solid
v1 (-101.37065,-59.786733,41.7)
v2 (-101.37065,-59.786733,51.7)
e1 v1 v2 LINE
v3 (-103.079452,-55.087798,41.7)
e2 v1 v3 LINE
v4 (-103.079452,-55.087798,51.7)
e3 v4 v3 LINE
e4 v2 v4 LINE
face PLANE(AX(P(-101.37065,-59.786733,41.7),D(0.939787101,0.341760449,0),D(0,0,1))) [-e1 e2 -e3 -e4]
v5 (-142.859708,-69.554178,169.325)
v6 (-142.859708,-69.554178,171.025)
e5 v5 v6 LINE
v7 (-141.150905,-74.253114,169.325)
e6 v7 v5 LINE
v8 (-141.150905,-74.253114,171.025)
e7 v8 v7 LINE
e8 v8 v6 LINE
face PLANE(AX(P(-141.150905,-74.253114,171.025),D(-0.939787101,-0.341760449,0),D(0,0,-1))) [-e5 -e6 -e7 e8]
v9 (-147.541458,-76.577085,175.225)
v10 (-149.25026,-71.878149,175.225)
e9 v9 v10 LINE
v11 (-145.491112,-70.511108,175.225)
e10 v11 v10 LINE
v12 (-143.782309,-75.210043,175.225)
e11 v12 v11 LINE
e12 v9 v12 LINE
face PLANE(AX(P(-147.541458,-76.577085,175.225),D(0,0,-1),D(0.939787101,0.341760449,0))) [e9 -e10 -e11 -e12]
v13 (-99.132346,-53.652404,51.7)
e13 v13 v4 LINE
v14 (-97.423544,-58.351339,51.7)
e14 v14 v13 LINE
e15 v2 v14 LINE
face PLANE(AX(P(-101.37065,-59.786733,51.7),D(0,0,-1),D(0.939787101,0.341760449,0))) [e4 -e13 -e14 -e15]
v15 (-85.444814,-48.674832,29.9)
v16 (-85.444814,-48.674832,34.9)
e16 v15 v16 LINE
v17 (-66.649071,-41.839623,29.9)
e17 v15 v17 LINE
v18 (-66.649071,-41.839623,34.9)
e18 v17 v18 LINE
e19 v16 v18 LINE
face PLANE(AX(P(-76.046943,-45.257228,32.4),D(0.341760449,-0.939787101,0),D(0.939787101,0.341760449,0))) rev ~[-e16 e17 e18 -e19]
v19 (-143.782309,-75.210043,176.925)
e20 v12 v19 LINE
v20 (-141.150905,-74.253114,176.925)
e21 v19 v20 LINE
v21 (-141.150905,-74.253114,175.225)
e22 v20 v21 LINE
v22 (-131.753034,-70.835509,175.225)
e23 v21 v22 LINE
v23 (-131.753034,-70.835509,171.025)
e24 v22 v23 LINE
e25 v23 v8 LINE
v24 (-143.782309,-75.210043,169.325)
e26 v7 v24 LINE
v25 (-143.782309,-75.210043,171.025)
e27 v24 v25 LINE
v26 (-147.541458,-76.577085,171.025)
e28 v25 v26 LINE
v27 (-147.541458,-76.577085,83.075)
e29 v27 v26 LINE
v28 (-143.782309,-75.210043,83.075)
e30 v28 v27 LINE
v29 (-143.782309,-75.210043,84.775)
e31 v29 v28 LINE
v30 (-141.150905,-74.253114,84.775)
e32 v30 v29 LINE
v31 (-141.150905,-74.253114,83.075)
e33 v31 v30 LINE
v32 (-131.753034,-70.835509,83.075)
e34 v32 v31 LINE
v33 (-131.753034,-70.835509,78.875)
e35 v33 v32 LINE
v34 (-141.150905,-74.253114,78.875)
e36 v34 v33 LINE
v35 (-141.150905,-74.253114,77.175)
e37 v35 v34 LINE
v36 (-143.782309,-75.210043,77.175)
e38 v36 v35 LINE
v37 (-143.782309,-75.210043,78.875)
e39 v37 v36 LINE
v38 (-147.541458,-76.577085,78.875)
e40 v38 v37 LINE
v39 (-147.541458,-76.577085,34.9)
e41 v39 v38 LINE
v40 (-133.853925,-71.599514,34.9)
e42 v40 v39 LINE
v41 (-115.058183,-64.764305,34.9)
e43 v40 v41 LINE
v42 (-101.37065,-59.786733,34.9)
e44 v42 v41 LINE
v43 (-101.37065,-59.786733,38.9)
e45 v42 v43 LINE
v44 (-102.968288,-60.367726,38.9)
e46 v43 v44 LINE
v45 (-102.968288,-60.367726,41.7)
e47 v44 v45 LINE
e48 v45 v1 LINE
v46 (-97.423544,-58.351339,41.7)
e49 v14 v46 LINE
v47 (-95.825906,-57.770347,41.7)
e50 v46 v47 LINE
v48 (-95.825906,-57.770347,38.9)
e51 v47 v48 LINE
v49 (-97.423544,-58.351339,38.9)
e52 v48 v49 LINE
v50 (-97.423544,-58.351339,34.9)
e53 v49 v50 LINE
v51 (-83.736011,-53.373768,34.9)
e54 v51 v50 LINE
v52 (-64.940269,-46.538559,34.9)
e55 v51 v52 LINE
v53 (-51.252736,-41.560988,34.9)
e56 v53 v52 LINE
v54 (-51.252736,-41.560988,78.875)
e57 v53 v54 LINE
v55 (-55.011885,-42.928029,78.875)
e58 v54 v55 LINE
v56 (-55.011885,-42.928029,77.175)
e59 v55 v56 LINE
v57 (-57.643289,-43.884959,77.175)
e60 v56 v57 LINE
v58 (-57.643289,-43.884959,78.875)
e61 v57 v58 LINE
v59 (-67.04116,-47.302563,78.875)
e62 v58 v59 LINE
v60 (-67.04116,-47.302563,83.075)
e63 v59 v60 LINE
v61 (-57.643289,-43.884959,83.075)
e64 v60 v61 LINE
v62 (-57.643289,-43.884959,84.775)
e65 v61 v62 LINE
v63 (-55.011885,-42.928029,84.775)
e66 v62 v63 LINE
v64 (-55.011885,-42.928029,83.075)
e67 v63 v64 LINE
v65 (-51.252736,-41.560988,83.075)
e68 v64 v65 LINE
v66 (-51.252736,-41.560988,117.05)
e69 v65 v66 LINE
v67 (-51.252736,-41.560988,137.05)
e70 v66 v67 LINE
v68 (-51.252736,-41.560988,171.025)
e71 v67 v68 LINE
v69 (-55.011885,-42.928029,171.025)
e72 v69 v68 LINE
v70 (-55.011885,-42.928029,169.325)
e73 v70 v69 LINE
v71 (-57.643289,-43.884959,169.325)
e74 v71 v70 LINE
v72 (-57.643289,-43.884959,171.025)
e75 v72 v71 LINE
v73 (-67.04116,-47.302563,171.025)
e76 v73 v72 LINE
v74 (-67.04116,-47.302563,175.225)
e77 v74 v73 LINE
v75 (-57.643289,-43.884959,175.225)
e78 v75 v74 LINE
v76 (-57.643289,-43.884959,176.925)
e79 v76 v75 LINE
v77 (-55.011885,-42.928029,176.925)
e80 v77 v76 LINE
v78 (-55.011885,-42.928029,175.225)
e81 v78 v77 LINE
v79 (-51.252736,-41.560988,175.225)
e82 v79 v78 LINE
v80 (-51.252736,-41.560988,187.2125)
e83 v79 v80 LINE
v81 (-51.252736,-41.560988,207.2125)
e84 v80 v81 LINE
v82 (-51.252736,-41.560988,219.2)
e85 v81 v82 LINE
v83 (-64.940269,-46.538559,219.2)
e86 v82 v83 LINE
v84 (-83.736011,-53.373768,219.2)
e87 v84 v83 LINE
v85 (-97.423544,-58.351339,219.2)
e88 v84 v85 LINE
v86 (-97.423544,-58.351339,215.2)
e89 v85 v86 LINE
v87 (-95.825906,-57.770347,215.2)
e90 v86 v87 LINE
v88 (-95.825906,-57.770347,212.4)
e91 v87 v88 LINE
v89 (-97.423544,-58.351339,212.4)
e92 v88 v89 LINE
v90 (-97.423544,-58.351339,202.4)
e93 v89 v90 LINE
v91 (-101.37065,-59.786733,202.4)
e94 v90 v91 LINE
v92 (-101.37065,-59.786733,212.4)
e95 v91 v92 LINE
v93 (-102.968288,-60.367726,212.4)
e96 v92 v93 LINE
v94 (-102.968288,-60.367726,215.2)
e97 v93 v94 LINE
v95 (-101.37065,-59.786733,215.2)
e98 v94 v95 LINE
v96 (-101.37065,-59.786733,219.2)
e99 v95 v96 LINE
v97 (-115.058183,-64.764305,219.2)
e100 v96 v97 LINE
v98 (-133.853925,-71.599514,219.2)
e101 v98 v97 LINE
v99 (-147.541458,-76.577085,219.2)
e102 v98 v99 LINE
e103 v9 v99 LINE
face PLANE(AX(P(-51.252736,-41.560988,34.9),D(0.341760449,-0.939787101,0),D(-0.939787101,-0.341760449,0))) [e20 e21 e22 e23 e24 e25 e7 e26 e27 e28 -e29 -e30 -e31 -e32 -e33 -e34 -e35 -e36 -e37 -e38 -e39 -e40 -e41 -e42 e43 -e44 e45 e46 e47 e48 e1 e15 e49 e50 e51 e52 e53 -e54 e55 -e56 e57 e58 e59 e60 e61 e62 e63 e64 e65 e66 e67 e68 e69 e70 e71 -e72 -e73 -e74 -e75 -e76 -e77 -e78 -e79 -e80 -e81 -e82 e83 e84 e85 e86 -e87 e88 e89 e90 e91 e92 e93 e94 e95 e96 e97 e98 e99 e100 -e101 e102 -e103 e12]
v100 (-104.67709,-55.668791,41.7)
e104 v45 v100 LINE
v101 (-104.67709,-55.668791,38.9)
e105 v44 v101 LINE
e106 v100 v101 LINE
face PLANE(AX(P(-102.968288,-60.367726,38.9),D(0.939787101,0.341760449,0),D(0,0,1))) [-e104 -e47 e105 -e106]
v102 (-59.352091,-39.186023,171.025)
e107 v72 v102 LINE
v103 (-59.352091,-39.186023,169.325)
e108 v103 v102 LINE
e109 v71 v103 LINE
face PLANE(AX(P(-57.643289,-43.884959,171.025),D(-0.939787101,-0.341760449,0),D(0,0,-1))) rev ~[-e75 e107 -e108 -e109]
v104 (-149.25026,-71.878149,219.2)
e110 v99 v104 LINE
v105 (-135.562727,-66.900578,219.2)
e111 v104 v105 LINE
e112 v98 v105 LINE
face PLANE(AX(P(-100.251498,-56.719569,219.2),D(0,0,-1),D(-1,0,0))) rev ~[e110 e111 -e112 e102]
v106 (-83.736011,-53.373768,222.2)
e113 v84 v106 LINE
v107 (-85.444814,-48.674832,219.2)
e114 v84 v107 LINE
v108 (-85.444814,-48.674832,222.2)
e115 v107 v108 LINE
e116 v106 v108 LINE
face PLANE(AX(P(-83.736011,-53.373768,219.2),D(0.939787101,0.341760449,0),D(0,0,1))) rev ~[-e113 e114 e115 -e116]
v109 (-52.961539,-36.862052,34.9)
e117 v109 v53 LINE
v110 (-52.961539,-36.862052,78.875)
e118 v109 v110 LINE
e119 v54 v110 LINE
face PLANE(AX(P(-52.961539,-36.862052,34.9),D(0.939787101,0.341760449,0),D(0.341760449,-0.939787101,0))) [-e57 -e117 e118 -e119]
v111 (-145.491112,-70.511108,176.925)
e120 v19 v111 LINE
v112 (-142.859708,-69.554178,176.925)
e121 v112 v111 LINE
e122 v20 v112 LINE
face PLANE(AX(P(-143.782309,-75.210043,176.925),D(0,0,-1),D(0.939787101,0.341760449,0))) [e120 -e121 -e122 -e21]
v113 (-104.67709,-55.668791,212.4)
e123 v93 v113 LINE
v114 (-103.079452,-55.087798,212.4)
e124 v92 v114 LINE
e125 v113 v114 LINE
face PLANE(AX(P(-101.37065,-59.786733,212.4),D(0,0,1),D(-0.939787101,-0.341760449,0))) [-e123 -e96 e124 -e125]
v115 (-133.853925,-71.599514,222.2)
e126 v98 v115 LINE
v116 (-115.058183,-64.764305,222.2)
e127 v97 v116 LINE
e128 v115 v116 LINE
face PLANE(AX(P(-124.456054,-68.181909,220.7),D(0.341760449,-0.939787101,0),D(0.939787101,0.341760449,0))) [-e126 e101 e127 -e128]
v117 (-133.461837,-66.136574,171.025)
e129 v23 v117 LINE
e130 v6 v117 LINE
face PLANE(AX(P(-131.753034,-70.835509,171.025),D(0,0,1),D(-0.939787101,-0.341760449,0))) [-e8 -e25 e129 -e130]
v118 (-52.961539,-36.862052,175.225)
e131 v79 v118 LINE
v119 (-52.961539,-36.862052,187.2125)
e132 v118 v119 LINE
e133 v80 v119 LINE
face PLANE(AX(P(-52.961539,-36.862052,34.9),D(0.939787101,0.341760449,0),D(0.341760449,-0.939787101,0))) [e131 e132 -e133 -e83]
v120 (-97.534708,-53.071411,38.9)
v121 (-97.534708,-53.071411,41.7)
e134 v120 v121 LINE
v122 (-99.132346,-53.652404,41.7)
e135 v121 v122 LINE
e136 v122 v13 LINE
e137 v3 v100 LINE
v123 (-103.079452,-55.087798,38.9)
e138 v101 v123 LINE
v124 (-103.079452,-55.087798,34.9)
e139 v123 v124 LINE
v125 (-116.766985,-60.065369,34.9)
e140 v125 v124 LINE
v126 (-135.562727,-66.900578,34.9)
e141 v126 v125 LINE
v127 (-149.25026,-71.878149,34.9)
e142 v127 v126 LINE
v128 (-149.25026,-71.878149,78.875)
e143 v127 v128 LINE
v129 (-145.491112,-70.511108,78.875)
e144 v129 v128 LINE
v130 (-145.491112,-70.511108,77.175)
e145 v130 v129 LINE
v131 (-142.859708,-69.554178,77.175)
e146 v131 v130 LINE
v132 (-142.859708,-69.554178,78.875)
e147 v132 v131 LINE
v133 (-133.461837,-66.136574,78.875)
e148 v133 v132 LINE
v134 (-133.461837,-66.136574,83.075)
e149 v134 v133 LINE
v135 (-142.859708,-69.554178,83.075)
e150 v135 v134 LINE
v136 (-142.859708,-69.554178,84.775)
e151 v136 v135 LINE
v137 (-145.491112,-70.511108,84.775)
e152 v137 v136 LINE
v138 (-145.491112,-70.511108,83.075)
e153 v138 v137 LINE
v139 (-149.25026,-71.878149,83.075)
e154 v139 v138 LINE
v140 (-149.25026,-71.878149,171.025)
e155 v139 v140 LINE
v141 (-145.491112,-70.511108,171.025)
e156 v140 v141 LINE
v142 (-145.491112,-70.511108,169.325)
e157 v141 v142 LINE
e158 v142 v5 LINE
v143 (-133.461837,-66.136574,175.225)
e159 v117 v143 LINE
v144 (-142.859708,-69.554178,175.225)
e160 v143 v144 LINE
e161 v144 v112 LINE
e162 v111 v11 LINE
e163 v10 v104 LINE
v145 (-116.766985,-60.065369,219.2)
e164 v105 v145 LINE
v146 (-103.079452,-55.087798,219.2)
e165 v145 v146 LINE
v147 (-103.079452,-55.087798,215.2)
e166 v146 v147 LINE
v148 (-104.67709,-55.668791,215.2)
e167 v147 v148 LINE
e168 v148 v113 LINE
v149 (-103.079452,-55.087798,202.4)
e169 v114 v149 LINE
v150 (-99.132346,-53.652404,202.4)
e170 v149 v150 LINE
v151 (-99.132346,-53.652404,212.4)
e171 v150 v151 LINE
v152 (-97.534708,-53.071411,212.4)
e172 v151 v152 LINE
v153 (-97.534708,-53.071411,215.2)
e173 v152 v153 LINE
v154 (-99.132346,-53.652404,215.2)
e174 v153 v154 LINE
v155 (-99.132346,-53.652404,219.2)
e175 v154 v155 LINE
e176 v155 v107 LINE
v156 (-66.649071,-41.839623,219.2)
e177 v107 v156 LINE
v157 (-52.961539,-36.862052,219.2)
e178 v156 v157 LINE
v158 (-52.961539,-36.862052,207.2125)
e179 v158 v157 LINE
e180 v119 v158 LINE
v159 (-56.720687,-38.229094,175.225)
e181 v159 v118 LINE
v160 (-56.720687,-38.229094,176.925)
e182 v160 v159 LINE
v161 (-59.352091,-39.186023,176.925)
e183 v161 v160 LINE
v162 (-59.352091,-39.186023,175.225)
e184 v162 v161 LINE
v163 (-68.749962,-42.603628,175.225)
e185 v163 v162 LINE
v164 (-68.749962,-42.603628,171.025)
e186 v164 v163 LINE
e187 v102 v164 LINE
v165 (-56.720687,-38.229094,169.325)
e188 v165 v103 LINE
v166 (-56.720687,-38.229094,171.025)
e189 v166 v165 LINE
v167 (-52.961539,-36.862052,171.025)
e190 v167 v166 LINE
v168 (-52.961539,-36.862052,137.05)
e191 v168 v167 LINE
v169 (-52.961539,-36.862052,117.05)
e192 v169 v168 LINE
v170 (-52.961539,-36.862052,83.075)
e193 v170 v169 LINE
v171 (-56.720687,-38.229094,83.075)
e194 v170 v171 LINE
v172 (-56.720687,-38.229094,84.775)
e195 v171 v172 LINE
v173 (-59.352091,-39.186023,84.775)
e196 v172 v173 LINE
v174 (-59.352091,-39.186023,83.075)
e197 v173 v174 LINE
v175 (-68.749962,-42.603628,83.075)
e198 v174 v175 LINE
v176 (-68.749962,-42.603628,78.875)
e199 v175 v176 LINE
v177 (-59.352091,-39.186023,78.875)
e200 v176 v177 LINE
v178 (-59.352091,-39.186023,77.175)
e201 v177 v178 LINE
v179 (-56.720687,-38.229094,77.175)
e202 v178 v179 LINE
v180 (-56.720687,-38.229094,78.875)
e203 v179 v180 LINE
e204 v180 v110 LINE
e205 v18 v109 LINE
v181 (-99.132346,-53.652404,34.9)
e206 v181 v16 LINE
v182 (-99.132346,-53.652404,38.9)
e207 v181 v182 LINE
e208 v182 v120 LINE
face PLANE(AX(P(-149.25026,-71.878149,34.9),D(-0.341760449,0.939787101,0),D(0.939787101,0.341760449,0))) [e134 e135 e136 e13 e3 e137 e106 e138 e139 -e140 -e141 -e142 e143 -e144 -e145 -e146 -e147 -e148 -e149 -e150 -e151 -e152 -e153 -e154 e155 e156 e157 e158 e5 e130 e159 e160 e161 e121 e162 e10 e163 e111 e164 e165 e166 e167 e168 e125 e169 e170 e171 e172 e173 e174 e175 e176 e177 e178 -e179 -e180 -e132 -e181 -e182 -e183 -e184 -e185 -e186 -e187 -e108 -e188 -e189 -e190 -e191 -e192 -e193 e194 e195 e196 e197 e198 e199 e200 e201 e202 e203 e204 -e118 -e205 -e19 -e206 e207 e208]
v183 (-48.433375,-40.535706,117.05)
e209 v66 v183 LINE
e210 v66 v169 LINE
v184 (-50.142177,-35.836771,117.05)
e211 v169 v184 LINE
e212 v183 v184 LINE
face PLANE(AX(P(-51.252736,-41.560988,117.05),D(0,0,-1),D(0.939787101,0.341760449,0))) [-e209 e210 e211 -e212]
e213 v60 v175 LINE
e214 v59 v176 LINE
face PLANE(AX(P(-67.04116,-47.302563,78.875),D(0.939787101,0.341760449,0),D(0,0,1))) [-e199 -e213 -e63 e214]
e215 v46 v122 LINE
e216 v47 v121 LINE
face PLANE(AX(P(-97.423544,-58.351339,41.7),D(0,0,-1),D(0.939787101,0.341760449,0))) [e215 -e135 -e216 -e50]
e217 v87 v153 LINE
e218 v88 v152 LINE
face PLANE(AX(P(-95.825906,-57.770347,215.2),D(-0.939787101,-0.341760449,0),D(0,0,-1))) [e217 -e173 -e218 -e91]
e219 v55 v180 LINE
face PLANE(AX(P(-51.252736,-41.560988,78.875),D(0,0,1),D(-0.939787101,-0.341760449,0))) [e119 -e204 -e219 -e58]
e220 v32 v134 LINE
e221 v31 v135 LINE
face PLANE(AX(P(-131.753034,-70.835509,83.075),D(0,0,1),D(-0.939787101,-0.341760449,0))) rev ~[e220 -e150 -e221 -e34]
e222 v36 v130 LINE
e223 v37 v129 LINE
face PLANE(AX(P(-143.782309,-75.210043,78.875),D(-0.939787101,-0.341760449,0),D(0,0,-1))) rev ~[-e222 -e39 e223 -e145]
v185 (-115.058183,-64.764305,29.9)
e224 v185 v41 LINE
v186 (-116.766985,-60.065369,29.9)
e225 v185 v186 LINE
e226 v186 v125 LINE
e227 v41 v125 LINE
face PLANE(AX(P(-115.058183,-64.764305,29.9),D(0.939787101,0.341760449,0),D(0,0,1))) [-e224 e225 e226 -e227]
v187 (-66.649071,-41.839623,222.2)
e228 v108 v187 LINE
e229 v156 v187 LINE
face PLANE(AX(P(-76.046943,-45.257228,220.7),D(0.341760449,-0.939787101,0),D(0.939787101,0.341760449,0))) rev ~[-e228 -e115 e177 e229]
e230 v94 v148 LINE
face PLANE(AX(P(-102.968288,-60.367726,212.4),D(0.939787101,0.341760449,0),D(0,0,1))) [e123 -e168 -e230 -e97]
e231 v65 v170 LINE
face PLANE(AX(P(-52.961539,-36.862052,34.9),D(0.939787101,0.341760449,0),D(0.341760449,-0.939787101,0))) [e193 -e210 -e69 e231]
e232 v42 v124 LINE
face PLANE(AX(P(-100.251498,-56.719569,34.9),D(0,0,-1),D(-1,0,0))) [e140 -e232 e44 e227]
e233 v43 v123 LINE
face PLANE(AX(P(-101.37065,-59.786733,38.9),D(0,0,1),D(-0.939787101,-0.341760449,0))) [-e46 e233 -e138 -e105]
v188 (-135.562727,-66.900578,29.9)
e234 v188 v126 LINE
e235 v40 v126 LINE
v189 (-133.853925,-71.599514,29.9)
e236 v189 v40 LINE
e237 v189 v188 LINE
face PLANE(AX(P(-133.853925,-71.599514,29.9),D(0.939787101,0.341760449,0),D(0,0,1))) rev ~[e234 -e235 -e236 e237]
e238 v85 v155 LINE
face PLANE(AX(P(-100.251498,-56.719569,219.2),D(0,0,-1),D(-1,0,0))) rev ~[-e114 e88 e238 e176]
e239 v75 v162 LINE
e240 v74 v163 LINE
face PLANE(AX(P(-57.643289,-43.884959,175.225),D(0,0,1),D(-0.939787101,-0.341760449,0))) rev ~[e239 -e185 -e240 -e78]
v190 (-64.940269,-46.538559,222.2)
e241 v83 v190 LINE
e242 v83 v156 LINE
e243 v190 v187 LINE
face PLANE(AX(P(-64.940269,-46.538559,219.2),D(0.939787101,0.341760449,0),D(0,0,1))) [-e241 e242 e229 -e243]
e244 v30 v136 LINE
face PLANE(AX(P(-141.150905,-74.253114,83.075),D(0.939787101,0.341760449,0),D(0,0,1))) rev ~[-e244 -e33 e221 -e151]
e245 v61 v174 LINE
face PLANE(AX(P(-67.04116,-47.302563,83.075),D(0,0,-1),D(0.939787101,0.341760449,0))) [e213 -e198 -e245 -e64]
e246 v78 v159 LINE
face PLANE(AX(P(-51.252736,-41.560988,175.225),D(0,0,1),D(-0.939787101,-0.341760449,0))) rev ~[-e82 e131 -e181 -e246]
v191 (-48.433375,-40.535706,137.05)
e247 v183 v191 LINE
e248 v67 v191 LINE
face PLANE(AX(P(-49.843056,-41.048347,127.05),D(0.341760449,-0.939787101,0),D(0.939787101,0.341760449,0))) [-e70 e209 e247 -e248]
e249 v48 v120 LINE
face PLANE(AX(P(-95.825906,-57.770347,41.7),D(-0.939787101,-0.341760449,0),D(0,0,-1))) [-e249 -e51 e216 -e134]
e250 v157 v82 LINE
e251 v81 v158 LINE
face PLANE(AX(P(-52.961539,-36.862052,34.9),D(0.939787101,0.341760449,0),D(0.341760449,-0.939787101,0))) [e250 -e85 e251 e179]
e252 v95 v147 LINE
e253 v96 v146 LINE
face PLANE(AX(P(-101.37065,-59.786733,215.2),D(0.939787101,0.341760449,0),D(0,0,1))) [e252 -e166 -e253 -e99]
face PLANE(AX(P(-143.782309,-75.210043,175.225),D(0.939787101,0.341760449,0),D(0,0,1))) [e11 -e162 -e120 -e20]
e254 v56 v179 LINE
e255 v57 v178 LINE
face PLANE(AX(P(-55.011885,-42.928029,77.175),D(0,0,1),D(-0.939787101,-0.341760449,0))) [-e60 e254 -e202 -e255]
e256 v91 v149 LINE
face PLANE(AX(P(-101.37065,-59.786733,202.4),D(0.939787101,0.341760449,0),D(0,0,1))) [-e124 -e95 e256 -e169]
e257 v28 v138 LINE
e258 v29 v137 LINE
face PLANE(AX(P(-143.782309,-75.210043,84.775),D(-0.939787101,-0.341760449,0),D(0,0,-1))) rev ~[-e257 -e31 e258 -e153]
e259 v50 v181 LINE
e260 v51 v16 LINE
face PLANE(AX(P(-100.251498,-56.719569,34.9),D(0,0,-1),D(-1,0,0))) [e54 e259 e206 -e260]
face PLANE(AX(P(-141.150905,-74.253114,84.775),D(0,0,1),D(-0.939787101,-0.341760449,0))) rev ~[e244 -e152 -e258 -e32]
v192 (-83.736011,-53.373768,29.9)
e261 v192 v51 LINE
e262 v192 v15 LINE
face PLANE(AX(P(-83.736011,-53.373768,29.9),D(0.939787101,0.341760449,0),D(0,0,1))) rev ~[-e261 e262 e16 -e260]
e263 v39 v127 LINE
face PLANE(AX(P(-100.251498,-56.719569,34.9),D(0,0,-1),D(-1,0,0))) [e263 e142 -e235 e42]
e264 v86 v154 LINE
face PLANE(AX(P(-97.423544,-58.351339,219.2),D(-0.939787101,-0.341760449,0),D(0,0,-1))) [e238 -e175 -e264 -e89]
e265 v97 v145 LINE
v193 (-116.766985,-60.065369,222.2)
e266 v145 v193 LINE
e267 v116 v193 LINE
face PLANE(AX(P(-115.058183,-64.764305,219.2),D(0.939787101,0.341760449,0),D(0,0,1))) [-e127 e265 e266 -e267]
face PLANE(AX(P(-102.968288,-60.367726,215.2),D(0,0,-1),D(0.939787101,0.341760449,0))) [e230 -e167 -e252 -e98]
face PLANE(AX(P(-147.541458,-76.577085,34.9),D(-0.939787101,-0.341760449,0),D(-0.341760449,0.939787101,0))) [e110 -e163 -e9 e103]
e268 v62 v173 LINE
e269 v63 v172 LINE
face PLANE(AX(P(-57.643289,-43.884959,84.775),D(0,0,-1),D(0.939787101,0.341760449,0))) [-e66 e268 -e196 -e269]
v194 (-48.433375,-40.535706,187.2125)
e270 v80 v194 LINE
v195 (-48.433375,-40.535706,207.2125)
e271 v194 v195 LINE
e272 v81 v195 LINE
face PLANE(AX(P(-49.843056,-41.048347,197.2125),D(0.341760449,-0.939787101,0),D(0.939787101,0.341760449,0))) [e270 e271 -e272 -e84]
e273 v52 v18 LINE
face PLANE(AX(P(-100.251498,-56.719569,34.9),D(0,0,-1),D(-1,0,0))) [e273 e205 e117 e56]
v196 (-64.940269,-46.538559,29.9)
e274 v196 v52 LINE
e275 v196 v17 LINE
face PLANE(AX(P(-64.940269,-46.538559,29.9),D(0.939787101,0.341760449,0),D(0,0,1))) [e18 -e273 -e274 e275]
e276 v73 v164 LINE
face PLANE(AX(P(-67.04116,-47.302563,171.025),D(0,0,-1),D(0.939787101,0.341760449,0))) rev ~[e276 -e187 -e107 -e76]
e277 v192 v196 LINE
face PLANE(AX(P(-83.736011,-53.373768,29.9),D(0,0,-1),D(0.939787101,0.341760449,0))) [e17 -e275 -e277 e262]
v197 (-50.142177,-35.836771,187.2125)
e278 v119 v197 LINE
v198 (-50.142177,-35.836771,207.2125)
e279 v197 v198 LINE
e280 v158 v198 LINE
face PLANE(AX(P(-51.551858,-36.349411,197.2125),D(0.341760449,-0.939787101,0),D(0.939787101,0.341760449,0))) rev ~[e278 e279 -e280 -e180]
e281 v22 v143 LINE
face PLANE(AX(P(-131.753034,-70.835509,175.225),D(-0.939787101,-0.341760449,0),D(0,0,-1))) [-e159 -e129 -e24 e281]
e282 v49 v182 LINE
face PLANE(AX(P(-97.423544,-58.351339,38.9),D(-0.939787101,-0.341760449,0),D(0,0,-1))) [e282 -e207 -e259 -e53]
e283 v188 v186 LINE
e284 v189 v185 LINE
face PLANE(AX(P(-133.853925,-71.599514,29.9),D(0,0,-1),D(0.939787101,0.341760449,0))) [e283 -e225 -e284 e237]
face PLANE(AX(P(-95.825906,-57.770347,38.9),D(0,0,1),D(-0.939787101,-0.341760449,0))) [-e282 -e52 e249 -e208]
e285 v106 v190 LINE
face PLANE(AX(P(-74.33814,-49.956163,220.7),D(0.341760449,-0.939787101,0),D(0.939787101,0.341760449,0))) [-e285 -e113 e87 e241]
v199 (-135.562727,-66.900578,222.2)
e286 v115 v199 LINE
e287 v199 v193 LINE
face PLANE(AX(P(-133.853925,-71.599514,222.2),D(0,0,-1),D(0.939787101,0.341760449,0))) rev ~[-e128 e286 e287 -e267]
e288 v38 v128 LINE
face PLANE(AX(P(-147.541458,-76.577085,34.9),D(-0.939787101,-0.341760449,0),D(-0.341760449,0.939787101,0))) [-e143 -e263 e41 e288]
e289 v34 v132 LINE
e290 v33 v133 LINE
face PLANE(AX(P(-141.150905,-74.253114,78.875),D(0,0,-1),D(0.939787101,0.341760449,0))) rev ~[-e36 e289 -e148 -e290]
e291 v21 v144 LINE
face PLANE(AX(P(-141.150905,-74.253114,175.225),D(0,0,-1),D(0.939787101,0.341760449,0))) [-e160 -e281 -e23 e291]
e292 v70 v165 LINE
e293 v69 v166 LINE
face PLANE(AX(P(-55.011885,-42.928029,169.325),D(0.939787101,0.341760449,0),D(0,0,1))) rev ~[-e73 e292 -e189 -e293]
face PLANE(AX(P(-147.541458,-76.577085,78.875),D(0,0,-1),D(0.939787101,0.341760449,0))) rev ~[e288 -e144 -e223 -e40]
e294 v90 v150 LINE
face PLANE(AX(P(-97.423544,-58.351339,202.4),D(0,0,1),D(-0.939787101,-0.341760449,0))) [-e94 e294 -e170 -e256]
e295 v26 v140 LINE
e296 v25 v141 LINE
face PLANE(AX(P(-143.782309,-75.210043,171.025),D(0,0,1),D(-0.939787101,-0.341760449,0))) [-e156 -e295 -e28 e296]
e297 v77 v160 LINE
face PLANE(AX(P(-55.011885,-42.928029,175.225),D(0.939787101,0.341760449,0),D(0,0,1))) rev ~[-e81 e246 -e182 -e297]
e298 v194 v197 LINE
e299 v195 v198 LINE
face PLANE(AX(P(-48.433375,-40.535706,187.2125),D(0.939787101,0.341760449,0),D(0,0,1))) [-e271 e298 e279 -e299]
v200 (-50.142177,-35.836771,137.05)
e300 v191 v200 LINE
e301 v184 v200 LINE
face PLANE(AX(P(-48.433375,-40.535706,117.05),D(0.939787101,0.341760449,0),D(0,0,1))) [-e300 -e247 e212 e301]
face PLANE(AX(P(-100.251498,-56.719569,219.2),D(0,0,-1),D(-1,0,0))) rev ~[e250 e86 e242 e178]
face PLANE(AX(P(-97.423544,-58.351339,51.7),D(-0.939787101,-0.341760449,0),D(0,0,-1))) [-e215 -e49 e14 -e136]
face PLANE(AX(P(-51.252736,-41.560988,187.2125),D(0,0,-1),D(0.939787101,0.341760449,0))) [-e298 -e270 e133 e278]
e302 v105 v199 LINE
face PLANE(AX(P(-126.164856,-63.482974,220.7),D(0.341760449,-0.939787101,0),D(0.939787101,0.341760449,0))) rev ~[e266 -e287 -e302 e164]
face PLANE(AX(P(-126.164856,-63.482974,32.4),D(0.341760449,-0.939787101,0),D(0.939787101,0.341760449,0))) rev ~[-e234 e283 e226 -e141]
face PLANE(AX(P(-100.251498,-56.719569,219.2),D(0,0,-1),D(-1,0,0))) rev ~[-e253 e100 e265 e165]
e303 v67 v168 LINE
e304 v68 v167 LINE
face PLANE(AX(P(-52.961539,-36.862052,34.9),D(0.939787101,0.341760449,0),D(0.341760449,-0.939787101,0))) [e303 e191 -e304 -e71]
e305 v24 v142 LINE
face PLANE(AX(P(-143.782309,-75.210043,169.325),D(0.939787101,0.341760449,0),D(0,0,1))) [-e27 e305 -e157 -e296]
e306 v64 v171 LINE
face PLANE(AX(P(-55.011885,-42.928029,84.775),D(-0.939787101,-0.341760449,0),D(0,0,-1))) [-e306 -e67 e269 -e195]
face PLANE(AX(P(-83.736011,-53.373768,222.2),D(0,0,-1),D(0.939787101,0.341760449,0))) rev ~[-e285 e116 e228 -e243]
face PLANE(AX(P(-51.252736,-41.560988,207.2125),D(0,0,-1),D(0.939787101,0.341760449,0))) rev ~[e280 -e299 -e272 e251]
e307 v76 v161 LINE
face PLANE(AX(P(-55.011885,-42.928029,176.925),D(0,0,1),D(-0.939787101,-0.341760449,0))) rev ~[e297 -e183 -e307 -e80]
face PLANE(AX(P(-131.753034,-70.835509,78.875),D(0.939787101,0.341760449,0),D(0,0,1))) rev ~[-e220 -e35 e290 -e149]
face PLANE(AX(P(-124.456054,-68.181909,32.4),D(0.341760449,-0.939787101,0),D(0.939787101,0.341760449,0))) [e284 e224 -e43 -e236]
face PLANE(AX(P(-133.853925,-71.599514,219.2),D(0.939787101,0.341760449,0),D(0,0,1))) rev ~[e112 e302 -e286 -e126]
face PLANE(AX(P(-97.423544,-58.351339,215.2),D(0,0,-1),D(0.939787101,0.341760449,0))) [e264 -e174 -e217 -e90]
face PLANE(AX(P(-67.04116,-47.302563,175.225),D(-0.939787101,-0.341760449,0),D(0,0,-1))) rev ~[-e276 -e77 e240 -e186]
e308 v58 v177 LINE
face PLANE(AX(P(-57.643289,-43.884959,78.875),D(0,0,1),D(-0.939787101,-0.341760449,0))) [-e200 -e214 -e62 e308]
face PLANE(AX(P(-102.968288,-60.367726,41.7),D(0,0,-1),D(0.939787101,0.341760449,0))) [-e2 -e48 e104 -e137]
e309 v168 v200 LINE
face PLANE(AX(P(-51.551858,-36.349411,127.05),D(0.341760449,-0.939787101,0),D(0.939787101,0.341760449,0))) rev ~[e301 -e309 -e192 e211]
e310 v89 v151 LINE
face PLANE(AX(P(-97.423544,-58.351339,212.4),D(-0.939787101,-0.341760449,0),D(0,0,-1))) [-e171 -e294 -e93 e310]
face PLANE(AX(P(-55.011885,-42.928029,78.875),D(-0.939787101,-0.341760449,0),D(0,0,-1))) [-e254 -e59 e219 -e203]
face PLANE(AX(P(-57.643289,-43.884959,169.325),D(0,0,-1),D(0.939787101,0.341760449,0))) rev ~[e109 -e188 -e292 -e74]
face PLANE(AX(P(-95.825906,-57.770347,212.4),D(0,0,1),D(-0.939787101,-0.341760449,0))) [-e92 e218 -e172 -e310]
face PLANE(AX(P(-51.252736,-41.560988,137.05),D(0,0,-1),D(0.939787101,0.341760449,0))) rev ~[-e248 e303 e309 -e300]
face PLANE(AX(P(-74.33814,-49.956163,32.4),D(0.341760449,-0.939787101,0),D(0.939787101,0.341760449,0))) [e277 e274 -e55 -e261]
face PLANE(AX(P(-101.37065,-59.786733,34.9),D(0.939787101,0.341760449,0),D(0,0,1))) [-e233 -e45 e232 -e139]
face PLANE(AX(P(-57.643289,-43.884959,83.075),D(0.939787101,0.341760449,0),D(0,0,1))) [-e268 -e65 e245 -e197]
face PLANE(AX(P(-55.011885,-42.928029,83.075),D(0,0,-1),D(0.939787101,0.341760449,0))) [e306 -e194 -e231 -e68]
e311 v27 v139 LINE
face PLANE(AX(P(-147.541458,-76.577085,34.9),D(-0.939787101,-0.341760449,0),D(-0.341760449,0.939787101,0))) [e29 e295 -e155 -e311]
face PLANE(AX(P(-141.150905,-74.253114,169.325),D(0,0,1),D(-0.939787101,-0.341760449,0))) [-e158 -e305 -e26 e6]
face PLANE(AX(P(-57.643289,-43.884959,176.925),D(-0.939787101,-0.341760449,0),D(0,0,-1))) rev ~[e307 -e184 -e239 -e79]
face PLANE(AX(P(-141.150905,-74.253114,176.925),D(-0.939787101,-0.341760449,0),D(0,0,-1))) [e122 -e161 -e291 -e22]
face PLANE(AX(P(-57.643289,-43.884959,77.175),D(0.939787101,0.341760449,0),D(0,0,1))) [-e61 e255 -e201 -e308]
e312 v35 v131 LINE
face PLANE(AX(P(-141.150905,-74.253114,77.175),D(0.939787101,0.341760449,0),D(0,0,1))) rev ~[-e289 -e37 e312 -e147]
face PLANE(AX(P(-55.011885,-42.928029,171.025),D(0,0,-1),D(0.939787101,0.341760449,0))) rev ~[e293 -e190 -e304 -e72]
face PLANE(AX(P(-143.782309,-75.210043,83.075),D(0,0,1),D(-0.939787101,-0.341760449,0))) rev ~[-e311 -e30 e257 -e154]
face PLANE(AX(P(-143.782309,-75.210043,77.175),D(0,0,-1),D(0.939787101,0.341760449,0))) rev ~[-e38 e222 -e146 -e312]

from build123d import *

# Parameters (mm, degrees)
BOSS_EXTRUDE1_DEPTH = 184.3
CUT_EXTRUDE3_DEPTH  = 38.907676661
SKETCH5_W           = 20
SKETCH5_H           = 5
SKETCH5_W_2         = 3
SKETCH5_H_2         = 20
SKETCH5_H_3         = 3
BOSS_EXTRUDE2_DEPTH = 5


with BuildPart() as part:
    # Sketch2 → Boss-Extrude1 (new body)
    with BuildSketch(Plane.XY.offset(34.9)):
        Polygon((-52.961538618, -36.862052104), (-51.252736373, -41.56098761), (-147.541457764, -76.577085001), (-149.250260009, -71.878149495), align=None)
    extrude(amount=BOSS_EXTRUDE1_DEPTH)

    # Sketch4 → Cut-Extrude3 (cut, through all)
    with BuildSketch(Plane(origin=(7.362313595, -20.245196221, 0), x_dir=(-0.939787101, -0.341760449, 0), z_dir=(0.341760449, -0.939787101, 0))):
        Polygon((111.499570088, -34.9), (115.699570088, -34.9), (115.699570088, -38.9), (117.399570088, -38.9), (117.399570088, -41.7), (115.699570088, -41.7), (115.699570088, -51.7), (111.499570088, -51.7), (111.499570088, -41.7), (109.799570088, -41.7), (109.799570088, -38.9), (111.499570088, -38.9), align=None)
        Polygon((62.37056233, -83.075), (62.37056233, -78.875), (66.37056233, -78.875), (66.37056233, -77.175), (69.17056233, -77.175), (69.17056233, -78.875), (79.17056233, -78.875), (79.17056233, -83.075), (69.17056233, -83.075), (69.17056233, -84.775), (66.37056233, -84.775), (66.37056233, -83.075), align=None)
        Polygon((115.699570088, -219.2), (111.499570088, -219.2), (111.499570088, -215.2), (109.799570088, -215.2), (109.799570088, -212.4), (111.499570088, -212.4), (111.499570088, -202.4), (115.699570088, -202.4), (115.699570088, -212.4), (117.399570088, -212.4), (117.399570088, -215.2), (115.699570088, -215.2), align=None)
        Polygon((66.37056233, -175.225), (66.37056233, -176.925), (69.17056233, -176.925), (69.17056233, -175.225), (79.17056233, -175.225), (79.17056233, -171.025), (69.17056233, -171.025), (69.17056233, -169.325), (66.37056233, -169.325), (66.37056233, -171.025), (62.37056233, -171.025), (62.37056233, -175.225), align=None)
        Polygon((164.828577846, -171.025), (164.828577846, -175.225), (160.828577846, -175.225), (160.828577846, -176.925), (158.028577846, -176.925), (158.028577846, -175.225), (148.028577846, -175.225), (148.028577846, -171.025), (158.028577846, -171.025), (158.028577846, -169.325), (160.828577846, -169.325), (160.828577846, -171.025), align=None)
        Polygon((160.828577846, -78.875), (160.828577846, -77.175), (158.028577846, -77.175), (158.028577846, -78.875), (148.028577846, -78.875), (148.028577846, -83.075), (158.028577846, -83.075), (158.028577846, -84.775), (160.828577846, -84.775), (160.828577846, -83.075), (164.828577846, -83.075), (164.828577846, -78.875), align=None)
    extrude(amount=-CUT_EXTRUDE3_DEPTH, mode=Mode.SUBTRACT)

    # Sketch5 → Boss-Extrude2 (add)
    with BuildSketch(Plane(origin=(7.362313595, -20.245196221, 0), x_dir=(0.939787101, 0.341760449, 0), z_dir=(0.341760449, -0.939787101, 0))):
        with Locations((-86.935066209, 32.4)):
            Rectangle(SKETCH5_W, SKETCH5_H)
        with Locations((-140.264073967, 32.4)):
            Rectangle(SKETCH5_W, SKETCH5_H)
        with Locations((-60.87056233, 127.05)):
            Rectangle(SKETCH5_W_2, SKETCH5_H_2)
        with Locations((-60.87056233, 197.2125)):
            Rectangle(SKETCH5_W_2, SKETCH5_H_2)
        with Locations((-86.935066209, 220.7)):
            Rectangle(SKETCH5_W, SKETCH5_H_3)
        with Locations((-140.264073967, 220.7)):
            Rectangle(SKETCH5_W, SKETCH5_H_3)
    extrude(amount=-BOSS_EXTRUDE2_DEPTH)


solid = part.part
